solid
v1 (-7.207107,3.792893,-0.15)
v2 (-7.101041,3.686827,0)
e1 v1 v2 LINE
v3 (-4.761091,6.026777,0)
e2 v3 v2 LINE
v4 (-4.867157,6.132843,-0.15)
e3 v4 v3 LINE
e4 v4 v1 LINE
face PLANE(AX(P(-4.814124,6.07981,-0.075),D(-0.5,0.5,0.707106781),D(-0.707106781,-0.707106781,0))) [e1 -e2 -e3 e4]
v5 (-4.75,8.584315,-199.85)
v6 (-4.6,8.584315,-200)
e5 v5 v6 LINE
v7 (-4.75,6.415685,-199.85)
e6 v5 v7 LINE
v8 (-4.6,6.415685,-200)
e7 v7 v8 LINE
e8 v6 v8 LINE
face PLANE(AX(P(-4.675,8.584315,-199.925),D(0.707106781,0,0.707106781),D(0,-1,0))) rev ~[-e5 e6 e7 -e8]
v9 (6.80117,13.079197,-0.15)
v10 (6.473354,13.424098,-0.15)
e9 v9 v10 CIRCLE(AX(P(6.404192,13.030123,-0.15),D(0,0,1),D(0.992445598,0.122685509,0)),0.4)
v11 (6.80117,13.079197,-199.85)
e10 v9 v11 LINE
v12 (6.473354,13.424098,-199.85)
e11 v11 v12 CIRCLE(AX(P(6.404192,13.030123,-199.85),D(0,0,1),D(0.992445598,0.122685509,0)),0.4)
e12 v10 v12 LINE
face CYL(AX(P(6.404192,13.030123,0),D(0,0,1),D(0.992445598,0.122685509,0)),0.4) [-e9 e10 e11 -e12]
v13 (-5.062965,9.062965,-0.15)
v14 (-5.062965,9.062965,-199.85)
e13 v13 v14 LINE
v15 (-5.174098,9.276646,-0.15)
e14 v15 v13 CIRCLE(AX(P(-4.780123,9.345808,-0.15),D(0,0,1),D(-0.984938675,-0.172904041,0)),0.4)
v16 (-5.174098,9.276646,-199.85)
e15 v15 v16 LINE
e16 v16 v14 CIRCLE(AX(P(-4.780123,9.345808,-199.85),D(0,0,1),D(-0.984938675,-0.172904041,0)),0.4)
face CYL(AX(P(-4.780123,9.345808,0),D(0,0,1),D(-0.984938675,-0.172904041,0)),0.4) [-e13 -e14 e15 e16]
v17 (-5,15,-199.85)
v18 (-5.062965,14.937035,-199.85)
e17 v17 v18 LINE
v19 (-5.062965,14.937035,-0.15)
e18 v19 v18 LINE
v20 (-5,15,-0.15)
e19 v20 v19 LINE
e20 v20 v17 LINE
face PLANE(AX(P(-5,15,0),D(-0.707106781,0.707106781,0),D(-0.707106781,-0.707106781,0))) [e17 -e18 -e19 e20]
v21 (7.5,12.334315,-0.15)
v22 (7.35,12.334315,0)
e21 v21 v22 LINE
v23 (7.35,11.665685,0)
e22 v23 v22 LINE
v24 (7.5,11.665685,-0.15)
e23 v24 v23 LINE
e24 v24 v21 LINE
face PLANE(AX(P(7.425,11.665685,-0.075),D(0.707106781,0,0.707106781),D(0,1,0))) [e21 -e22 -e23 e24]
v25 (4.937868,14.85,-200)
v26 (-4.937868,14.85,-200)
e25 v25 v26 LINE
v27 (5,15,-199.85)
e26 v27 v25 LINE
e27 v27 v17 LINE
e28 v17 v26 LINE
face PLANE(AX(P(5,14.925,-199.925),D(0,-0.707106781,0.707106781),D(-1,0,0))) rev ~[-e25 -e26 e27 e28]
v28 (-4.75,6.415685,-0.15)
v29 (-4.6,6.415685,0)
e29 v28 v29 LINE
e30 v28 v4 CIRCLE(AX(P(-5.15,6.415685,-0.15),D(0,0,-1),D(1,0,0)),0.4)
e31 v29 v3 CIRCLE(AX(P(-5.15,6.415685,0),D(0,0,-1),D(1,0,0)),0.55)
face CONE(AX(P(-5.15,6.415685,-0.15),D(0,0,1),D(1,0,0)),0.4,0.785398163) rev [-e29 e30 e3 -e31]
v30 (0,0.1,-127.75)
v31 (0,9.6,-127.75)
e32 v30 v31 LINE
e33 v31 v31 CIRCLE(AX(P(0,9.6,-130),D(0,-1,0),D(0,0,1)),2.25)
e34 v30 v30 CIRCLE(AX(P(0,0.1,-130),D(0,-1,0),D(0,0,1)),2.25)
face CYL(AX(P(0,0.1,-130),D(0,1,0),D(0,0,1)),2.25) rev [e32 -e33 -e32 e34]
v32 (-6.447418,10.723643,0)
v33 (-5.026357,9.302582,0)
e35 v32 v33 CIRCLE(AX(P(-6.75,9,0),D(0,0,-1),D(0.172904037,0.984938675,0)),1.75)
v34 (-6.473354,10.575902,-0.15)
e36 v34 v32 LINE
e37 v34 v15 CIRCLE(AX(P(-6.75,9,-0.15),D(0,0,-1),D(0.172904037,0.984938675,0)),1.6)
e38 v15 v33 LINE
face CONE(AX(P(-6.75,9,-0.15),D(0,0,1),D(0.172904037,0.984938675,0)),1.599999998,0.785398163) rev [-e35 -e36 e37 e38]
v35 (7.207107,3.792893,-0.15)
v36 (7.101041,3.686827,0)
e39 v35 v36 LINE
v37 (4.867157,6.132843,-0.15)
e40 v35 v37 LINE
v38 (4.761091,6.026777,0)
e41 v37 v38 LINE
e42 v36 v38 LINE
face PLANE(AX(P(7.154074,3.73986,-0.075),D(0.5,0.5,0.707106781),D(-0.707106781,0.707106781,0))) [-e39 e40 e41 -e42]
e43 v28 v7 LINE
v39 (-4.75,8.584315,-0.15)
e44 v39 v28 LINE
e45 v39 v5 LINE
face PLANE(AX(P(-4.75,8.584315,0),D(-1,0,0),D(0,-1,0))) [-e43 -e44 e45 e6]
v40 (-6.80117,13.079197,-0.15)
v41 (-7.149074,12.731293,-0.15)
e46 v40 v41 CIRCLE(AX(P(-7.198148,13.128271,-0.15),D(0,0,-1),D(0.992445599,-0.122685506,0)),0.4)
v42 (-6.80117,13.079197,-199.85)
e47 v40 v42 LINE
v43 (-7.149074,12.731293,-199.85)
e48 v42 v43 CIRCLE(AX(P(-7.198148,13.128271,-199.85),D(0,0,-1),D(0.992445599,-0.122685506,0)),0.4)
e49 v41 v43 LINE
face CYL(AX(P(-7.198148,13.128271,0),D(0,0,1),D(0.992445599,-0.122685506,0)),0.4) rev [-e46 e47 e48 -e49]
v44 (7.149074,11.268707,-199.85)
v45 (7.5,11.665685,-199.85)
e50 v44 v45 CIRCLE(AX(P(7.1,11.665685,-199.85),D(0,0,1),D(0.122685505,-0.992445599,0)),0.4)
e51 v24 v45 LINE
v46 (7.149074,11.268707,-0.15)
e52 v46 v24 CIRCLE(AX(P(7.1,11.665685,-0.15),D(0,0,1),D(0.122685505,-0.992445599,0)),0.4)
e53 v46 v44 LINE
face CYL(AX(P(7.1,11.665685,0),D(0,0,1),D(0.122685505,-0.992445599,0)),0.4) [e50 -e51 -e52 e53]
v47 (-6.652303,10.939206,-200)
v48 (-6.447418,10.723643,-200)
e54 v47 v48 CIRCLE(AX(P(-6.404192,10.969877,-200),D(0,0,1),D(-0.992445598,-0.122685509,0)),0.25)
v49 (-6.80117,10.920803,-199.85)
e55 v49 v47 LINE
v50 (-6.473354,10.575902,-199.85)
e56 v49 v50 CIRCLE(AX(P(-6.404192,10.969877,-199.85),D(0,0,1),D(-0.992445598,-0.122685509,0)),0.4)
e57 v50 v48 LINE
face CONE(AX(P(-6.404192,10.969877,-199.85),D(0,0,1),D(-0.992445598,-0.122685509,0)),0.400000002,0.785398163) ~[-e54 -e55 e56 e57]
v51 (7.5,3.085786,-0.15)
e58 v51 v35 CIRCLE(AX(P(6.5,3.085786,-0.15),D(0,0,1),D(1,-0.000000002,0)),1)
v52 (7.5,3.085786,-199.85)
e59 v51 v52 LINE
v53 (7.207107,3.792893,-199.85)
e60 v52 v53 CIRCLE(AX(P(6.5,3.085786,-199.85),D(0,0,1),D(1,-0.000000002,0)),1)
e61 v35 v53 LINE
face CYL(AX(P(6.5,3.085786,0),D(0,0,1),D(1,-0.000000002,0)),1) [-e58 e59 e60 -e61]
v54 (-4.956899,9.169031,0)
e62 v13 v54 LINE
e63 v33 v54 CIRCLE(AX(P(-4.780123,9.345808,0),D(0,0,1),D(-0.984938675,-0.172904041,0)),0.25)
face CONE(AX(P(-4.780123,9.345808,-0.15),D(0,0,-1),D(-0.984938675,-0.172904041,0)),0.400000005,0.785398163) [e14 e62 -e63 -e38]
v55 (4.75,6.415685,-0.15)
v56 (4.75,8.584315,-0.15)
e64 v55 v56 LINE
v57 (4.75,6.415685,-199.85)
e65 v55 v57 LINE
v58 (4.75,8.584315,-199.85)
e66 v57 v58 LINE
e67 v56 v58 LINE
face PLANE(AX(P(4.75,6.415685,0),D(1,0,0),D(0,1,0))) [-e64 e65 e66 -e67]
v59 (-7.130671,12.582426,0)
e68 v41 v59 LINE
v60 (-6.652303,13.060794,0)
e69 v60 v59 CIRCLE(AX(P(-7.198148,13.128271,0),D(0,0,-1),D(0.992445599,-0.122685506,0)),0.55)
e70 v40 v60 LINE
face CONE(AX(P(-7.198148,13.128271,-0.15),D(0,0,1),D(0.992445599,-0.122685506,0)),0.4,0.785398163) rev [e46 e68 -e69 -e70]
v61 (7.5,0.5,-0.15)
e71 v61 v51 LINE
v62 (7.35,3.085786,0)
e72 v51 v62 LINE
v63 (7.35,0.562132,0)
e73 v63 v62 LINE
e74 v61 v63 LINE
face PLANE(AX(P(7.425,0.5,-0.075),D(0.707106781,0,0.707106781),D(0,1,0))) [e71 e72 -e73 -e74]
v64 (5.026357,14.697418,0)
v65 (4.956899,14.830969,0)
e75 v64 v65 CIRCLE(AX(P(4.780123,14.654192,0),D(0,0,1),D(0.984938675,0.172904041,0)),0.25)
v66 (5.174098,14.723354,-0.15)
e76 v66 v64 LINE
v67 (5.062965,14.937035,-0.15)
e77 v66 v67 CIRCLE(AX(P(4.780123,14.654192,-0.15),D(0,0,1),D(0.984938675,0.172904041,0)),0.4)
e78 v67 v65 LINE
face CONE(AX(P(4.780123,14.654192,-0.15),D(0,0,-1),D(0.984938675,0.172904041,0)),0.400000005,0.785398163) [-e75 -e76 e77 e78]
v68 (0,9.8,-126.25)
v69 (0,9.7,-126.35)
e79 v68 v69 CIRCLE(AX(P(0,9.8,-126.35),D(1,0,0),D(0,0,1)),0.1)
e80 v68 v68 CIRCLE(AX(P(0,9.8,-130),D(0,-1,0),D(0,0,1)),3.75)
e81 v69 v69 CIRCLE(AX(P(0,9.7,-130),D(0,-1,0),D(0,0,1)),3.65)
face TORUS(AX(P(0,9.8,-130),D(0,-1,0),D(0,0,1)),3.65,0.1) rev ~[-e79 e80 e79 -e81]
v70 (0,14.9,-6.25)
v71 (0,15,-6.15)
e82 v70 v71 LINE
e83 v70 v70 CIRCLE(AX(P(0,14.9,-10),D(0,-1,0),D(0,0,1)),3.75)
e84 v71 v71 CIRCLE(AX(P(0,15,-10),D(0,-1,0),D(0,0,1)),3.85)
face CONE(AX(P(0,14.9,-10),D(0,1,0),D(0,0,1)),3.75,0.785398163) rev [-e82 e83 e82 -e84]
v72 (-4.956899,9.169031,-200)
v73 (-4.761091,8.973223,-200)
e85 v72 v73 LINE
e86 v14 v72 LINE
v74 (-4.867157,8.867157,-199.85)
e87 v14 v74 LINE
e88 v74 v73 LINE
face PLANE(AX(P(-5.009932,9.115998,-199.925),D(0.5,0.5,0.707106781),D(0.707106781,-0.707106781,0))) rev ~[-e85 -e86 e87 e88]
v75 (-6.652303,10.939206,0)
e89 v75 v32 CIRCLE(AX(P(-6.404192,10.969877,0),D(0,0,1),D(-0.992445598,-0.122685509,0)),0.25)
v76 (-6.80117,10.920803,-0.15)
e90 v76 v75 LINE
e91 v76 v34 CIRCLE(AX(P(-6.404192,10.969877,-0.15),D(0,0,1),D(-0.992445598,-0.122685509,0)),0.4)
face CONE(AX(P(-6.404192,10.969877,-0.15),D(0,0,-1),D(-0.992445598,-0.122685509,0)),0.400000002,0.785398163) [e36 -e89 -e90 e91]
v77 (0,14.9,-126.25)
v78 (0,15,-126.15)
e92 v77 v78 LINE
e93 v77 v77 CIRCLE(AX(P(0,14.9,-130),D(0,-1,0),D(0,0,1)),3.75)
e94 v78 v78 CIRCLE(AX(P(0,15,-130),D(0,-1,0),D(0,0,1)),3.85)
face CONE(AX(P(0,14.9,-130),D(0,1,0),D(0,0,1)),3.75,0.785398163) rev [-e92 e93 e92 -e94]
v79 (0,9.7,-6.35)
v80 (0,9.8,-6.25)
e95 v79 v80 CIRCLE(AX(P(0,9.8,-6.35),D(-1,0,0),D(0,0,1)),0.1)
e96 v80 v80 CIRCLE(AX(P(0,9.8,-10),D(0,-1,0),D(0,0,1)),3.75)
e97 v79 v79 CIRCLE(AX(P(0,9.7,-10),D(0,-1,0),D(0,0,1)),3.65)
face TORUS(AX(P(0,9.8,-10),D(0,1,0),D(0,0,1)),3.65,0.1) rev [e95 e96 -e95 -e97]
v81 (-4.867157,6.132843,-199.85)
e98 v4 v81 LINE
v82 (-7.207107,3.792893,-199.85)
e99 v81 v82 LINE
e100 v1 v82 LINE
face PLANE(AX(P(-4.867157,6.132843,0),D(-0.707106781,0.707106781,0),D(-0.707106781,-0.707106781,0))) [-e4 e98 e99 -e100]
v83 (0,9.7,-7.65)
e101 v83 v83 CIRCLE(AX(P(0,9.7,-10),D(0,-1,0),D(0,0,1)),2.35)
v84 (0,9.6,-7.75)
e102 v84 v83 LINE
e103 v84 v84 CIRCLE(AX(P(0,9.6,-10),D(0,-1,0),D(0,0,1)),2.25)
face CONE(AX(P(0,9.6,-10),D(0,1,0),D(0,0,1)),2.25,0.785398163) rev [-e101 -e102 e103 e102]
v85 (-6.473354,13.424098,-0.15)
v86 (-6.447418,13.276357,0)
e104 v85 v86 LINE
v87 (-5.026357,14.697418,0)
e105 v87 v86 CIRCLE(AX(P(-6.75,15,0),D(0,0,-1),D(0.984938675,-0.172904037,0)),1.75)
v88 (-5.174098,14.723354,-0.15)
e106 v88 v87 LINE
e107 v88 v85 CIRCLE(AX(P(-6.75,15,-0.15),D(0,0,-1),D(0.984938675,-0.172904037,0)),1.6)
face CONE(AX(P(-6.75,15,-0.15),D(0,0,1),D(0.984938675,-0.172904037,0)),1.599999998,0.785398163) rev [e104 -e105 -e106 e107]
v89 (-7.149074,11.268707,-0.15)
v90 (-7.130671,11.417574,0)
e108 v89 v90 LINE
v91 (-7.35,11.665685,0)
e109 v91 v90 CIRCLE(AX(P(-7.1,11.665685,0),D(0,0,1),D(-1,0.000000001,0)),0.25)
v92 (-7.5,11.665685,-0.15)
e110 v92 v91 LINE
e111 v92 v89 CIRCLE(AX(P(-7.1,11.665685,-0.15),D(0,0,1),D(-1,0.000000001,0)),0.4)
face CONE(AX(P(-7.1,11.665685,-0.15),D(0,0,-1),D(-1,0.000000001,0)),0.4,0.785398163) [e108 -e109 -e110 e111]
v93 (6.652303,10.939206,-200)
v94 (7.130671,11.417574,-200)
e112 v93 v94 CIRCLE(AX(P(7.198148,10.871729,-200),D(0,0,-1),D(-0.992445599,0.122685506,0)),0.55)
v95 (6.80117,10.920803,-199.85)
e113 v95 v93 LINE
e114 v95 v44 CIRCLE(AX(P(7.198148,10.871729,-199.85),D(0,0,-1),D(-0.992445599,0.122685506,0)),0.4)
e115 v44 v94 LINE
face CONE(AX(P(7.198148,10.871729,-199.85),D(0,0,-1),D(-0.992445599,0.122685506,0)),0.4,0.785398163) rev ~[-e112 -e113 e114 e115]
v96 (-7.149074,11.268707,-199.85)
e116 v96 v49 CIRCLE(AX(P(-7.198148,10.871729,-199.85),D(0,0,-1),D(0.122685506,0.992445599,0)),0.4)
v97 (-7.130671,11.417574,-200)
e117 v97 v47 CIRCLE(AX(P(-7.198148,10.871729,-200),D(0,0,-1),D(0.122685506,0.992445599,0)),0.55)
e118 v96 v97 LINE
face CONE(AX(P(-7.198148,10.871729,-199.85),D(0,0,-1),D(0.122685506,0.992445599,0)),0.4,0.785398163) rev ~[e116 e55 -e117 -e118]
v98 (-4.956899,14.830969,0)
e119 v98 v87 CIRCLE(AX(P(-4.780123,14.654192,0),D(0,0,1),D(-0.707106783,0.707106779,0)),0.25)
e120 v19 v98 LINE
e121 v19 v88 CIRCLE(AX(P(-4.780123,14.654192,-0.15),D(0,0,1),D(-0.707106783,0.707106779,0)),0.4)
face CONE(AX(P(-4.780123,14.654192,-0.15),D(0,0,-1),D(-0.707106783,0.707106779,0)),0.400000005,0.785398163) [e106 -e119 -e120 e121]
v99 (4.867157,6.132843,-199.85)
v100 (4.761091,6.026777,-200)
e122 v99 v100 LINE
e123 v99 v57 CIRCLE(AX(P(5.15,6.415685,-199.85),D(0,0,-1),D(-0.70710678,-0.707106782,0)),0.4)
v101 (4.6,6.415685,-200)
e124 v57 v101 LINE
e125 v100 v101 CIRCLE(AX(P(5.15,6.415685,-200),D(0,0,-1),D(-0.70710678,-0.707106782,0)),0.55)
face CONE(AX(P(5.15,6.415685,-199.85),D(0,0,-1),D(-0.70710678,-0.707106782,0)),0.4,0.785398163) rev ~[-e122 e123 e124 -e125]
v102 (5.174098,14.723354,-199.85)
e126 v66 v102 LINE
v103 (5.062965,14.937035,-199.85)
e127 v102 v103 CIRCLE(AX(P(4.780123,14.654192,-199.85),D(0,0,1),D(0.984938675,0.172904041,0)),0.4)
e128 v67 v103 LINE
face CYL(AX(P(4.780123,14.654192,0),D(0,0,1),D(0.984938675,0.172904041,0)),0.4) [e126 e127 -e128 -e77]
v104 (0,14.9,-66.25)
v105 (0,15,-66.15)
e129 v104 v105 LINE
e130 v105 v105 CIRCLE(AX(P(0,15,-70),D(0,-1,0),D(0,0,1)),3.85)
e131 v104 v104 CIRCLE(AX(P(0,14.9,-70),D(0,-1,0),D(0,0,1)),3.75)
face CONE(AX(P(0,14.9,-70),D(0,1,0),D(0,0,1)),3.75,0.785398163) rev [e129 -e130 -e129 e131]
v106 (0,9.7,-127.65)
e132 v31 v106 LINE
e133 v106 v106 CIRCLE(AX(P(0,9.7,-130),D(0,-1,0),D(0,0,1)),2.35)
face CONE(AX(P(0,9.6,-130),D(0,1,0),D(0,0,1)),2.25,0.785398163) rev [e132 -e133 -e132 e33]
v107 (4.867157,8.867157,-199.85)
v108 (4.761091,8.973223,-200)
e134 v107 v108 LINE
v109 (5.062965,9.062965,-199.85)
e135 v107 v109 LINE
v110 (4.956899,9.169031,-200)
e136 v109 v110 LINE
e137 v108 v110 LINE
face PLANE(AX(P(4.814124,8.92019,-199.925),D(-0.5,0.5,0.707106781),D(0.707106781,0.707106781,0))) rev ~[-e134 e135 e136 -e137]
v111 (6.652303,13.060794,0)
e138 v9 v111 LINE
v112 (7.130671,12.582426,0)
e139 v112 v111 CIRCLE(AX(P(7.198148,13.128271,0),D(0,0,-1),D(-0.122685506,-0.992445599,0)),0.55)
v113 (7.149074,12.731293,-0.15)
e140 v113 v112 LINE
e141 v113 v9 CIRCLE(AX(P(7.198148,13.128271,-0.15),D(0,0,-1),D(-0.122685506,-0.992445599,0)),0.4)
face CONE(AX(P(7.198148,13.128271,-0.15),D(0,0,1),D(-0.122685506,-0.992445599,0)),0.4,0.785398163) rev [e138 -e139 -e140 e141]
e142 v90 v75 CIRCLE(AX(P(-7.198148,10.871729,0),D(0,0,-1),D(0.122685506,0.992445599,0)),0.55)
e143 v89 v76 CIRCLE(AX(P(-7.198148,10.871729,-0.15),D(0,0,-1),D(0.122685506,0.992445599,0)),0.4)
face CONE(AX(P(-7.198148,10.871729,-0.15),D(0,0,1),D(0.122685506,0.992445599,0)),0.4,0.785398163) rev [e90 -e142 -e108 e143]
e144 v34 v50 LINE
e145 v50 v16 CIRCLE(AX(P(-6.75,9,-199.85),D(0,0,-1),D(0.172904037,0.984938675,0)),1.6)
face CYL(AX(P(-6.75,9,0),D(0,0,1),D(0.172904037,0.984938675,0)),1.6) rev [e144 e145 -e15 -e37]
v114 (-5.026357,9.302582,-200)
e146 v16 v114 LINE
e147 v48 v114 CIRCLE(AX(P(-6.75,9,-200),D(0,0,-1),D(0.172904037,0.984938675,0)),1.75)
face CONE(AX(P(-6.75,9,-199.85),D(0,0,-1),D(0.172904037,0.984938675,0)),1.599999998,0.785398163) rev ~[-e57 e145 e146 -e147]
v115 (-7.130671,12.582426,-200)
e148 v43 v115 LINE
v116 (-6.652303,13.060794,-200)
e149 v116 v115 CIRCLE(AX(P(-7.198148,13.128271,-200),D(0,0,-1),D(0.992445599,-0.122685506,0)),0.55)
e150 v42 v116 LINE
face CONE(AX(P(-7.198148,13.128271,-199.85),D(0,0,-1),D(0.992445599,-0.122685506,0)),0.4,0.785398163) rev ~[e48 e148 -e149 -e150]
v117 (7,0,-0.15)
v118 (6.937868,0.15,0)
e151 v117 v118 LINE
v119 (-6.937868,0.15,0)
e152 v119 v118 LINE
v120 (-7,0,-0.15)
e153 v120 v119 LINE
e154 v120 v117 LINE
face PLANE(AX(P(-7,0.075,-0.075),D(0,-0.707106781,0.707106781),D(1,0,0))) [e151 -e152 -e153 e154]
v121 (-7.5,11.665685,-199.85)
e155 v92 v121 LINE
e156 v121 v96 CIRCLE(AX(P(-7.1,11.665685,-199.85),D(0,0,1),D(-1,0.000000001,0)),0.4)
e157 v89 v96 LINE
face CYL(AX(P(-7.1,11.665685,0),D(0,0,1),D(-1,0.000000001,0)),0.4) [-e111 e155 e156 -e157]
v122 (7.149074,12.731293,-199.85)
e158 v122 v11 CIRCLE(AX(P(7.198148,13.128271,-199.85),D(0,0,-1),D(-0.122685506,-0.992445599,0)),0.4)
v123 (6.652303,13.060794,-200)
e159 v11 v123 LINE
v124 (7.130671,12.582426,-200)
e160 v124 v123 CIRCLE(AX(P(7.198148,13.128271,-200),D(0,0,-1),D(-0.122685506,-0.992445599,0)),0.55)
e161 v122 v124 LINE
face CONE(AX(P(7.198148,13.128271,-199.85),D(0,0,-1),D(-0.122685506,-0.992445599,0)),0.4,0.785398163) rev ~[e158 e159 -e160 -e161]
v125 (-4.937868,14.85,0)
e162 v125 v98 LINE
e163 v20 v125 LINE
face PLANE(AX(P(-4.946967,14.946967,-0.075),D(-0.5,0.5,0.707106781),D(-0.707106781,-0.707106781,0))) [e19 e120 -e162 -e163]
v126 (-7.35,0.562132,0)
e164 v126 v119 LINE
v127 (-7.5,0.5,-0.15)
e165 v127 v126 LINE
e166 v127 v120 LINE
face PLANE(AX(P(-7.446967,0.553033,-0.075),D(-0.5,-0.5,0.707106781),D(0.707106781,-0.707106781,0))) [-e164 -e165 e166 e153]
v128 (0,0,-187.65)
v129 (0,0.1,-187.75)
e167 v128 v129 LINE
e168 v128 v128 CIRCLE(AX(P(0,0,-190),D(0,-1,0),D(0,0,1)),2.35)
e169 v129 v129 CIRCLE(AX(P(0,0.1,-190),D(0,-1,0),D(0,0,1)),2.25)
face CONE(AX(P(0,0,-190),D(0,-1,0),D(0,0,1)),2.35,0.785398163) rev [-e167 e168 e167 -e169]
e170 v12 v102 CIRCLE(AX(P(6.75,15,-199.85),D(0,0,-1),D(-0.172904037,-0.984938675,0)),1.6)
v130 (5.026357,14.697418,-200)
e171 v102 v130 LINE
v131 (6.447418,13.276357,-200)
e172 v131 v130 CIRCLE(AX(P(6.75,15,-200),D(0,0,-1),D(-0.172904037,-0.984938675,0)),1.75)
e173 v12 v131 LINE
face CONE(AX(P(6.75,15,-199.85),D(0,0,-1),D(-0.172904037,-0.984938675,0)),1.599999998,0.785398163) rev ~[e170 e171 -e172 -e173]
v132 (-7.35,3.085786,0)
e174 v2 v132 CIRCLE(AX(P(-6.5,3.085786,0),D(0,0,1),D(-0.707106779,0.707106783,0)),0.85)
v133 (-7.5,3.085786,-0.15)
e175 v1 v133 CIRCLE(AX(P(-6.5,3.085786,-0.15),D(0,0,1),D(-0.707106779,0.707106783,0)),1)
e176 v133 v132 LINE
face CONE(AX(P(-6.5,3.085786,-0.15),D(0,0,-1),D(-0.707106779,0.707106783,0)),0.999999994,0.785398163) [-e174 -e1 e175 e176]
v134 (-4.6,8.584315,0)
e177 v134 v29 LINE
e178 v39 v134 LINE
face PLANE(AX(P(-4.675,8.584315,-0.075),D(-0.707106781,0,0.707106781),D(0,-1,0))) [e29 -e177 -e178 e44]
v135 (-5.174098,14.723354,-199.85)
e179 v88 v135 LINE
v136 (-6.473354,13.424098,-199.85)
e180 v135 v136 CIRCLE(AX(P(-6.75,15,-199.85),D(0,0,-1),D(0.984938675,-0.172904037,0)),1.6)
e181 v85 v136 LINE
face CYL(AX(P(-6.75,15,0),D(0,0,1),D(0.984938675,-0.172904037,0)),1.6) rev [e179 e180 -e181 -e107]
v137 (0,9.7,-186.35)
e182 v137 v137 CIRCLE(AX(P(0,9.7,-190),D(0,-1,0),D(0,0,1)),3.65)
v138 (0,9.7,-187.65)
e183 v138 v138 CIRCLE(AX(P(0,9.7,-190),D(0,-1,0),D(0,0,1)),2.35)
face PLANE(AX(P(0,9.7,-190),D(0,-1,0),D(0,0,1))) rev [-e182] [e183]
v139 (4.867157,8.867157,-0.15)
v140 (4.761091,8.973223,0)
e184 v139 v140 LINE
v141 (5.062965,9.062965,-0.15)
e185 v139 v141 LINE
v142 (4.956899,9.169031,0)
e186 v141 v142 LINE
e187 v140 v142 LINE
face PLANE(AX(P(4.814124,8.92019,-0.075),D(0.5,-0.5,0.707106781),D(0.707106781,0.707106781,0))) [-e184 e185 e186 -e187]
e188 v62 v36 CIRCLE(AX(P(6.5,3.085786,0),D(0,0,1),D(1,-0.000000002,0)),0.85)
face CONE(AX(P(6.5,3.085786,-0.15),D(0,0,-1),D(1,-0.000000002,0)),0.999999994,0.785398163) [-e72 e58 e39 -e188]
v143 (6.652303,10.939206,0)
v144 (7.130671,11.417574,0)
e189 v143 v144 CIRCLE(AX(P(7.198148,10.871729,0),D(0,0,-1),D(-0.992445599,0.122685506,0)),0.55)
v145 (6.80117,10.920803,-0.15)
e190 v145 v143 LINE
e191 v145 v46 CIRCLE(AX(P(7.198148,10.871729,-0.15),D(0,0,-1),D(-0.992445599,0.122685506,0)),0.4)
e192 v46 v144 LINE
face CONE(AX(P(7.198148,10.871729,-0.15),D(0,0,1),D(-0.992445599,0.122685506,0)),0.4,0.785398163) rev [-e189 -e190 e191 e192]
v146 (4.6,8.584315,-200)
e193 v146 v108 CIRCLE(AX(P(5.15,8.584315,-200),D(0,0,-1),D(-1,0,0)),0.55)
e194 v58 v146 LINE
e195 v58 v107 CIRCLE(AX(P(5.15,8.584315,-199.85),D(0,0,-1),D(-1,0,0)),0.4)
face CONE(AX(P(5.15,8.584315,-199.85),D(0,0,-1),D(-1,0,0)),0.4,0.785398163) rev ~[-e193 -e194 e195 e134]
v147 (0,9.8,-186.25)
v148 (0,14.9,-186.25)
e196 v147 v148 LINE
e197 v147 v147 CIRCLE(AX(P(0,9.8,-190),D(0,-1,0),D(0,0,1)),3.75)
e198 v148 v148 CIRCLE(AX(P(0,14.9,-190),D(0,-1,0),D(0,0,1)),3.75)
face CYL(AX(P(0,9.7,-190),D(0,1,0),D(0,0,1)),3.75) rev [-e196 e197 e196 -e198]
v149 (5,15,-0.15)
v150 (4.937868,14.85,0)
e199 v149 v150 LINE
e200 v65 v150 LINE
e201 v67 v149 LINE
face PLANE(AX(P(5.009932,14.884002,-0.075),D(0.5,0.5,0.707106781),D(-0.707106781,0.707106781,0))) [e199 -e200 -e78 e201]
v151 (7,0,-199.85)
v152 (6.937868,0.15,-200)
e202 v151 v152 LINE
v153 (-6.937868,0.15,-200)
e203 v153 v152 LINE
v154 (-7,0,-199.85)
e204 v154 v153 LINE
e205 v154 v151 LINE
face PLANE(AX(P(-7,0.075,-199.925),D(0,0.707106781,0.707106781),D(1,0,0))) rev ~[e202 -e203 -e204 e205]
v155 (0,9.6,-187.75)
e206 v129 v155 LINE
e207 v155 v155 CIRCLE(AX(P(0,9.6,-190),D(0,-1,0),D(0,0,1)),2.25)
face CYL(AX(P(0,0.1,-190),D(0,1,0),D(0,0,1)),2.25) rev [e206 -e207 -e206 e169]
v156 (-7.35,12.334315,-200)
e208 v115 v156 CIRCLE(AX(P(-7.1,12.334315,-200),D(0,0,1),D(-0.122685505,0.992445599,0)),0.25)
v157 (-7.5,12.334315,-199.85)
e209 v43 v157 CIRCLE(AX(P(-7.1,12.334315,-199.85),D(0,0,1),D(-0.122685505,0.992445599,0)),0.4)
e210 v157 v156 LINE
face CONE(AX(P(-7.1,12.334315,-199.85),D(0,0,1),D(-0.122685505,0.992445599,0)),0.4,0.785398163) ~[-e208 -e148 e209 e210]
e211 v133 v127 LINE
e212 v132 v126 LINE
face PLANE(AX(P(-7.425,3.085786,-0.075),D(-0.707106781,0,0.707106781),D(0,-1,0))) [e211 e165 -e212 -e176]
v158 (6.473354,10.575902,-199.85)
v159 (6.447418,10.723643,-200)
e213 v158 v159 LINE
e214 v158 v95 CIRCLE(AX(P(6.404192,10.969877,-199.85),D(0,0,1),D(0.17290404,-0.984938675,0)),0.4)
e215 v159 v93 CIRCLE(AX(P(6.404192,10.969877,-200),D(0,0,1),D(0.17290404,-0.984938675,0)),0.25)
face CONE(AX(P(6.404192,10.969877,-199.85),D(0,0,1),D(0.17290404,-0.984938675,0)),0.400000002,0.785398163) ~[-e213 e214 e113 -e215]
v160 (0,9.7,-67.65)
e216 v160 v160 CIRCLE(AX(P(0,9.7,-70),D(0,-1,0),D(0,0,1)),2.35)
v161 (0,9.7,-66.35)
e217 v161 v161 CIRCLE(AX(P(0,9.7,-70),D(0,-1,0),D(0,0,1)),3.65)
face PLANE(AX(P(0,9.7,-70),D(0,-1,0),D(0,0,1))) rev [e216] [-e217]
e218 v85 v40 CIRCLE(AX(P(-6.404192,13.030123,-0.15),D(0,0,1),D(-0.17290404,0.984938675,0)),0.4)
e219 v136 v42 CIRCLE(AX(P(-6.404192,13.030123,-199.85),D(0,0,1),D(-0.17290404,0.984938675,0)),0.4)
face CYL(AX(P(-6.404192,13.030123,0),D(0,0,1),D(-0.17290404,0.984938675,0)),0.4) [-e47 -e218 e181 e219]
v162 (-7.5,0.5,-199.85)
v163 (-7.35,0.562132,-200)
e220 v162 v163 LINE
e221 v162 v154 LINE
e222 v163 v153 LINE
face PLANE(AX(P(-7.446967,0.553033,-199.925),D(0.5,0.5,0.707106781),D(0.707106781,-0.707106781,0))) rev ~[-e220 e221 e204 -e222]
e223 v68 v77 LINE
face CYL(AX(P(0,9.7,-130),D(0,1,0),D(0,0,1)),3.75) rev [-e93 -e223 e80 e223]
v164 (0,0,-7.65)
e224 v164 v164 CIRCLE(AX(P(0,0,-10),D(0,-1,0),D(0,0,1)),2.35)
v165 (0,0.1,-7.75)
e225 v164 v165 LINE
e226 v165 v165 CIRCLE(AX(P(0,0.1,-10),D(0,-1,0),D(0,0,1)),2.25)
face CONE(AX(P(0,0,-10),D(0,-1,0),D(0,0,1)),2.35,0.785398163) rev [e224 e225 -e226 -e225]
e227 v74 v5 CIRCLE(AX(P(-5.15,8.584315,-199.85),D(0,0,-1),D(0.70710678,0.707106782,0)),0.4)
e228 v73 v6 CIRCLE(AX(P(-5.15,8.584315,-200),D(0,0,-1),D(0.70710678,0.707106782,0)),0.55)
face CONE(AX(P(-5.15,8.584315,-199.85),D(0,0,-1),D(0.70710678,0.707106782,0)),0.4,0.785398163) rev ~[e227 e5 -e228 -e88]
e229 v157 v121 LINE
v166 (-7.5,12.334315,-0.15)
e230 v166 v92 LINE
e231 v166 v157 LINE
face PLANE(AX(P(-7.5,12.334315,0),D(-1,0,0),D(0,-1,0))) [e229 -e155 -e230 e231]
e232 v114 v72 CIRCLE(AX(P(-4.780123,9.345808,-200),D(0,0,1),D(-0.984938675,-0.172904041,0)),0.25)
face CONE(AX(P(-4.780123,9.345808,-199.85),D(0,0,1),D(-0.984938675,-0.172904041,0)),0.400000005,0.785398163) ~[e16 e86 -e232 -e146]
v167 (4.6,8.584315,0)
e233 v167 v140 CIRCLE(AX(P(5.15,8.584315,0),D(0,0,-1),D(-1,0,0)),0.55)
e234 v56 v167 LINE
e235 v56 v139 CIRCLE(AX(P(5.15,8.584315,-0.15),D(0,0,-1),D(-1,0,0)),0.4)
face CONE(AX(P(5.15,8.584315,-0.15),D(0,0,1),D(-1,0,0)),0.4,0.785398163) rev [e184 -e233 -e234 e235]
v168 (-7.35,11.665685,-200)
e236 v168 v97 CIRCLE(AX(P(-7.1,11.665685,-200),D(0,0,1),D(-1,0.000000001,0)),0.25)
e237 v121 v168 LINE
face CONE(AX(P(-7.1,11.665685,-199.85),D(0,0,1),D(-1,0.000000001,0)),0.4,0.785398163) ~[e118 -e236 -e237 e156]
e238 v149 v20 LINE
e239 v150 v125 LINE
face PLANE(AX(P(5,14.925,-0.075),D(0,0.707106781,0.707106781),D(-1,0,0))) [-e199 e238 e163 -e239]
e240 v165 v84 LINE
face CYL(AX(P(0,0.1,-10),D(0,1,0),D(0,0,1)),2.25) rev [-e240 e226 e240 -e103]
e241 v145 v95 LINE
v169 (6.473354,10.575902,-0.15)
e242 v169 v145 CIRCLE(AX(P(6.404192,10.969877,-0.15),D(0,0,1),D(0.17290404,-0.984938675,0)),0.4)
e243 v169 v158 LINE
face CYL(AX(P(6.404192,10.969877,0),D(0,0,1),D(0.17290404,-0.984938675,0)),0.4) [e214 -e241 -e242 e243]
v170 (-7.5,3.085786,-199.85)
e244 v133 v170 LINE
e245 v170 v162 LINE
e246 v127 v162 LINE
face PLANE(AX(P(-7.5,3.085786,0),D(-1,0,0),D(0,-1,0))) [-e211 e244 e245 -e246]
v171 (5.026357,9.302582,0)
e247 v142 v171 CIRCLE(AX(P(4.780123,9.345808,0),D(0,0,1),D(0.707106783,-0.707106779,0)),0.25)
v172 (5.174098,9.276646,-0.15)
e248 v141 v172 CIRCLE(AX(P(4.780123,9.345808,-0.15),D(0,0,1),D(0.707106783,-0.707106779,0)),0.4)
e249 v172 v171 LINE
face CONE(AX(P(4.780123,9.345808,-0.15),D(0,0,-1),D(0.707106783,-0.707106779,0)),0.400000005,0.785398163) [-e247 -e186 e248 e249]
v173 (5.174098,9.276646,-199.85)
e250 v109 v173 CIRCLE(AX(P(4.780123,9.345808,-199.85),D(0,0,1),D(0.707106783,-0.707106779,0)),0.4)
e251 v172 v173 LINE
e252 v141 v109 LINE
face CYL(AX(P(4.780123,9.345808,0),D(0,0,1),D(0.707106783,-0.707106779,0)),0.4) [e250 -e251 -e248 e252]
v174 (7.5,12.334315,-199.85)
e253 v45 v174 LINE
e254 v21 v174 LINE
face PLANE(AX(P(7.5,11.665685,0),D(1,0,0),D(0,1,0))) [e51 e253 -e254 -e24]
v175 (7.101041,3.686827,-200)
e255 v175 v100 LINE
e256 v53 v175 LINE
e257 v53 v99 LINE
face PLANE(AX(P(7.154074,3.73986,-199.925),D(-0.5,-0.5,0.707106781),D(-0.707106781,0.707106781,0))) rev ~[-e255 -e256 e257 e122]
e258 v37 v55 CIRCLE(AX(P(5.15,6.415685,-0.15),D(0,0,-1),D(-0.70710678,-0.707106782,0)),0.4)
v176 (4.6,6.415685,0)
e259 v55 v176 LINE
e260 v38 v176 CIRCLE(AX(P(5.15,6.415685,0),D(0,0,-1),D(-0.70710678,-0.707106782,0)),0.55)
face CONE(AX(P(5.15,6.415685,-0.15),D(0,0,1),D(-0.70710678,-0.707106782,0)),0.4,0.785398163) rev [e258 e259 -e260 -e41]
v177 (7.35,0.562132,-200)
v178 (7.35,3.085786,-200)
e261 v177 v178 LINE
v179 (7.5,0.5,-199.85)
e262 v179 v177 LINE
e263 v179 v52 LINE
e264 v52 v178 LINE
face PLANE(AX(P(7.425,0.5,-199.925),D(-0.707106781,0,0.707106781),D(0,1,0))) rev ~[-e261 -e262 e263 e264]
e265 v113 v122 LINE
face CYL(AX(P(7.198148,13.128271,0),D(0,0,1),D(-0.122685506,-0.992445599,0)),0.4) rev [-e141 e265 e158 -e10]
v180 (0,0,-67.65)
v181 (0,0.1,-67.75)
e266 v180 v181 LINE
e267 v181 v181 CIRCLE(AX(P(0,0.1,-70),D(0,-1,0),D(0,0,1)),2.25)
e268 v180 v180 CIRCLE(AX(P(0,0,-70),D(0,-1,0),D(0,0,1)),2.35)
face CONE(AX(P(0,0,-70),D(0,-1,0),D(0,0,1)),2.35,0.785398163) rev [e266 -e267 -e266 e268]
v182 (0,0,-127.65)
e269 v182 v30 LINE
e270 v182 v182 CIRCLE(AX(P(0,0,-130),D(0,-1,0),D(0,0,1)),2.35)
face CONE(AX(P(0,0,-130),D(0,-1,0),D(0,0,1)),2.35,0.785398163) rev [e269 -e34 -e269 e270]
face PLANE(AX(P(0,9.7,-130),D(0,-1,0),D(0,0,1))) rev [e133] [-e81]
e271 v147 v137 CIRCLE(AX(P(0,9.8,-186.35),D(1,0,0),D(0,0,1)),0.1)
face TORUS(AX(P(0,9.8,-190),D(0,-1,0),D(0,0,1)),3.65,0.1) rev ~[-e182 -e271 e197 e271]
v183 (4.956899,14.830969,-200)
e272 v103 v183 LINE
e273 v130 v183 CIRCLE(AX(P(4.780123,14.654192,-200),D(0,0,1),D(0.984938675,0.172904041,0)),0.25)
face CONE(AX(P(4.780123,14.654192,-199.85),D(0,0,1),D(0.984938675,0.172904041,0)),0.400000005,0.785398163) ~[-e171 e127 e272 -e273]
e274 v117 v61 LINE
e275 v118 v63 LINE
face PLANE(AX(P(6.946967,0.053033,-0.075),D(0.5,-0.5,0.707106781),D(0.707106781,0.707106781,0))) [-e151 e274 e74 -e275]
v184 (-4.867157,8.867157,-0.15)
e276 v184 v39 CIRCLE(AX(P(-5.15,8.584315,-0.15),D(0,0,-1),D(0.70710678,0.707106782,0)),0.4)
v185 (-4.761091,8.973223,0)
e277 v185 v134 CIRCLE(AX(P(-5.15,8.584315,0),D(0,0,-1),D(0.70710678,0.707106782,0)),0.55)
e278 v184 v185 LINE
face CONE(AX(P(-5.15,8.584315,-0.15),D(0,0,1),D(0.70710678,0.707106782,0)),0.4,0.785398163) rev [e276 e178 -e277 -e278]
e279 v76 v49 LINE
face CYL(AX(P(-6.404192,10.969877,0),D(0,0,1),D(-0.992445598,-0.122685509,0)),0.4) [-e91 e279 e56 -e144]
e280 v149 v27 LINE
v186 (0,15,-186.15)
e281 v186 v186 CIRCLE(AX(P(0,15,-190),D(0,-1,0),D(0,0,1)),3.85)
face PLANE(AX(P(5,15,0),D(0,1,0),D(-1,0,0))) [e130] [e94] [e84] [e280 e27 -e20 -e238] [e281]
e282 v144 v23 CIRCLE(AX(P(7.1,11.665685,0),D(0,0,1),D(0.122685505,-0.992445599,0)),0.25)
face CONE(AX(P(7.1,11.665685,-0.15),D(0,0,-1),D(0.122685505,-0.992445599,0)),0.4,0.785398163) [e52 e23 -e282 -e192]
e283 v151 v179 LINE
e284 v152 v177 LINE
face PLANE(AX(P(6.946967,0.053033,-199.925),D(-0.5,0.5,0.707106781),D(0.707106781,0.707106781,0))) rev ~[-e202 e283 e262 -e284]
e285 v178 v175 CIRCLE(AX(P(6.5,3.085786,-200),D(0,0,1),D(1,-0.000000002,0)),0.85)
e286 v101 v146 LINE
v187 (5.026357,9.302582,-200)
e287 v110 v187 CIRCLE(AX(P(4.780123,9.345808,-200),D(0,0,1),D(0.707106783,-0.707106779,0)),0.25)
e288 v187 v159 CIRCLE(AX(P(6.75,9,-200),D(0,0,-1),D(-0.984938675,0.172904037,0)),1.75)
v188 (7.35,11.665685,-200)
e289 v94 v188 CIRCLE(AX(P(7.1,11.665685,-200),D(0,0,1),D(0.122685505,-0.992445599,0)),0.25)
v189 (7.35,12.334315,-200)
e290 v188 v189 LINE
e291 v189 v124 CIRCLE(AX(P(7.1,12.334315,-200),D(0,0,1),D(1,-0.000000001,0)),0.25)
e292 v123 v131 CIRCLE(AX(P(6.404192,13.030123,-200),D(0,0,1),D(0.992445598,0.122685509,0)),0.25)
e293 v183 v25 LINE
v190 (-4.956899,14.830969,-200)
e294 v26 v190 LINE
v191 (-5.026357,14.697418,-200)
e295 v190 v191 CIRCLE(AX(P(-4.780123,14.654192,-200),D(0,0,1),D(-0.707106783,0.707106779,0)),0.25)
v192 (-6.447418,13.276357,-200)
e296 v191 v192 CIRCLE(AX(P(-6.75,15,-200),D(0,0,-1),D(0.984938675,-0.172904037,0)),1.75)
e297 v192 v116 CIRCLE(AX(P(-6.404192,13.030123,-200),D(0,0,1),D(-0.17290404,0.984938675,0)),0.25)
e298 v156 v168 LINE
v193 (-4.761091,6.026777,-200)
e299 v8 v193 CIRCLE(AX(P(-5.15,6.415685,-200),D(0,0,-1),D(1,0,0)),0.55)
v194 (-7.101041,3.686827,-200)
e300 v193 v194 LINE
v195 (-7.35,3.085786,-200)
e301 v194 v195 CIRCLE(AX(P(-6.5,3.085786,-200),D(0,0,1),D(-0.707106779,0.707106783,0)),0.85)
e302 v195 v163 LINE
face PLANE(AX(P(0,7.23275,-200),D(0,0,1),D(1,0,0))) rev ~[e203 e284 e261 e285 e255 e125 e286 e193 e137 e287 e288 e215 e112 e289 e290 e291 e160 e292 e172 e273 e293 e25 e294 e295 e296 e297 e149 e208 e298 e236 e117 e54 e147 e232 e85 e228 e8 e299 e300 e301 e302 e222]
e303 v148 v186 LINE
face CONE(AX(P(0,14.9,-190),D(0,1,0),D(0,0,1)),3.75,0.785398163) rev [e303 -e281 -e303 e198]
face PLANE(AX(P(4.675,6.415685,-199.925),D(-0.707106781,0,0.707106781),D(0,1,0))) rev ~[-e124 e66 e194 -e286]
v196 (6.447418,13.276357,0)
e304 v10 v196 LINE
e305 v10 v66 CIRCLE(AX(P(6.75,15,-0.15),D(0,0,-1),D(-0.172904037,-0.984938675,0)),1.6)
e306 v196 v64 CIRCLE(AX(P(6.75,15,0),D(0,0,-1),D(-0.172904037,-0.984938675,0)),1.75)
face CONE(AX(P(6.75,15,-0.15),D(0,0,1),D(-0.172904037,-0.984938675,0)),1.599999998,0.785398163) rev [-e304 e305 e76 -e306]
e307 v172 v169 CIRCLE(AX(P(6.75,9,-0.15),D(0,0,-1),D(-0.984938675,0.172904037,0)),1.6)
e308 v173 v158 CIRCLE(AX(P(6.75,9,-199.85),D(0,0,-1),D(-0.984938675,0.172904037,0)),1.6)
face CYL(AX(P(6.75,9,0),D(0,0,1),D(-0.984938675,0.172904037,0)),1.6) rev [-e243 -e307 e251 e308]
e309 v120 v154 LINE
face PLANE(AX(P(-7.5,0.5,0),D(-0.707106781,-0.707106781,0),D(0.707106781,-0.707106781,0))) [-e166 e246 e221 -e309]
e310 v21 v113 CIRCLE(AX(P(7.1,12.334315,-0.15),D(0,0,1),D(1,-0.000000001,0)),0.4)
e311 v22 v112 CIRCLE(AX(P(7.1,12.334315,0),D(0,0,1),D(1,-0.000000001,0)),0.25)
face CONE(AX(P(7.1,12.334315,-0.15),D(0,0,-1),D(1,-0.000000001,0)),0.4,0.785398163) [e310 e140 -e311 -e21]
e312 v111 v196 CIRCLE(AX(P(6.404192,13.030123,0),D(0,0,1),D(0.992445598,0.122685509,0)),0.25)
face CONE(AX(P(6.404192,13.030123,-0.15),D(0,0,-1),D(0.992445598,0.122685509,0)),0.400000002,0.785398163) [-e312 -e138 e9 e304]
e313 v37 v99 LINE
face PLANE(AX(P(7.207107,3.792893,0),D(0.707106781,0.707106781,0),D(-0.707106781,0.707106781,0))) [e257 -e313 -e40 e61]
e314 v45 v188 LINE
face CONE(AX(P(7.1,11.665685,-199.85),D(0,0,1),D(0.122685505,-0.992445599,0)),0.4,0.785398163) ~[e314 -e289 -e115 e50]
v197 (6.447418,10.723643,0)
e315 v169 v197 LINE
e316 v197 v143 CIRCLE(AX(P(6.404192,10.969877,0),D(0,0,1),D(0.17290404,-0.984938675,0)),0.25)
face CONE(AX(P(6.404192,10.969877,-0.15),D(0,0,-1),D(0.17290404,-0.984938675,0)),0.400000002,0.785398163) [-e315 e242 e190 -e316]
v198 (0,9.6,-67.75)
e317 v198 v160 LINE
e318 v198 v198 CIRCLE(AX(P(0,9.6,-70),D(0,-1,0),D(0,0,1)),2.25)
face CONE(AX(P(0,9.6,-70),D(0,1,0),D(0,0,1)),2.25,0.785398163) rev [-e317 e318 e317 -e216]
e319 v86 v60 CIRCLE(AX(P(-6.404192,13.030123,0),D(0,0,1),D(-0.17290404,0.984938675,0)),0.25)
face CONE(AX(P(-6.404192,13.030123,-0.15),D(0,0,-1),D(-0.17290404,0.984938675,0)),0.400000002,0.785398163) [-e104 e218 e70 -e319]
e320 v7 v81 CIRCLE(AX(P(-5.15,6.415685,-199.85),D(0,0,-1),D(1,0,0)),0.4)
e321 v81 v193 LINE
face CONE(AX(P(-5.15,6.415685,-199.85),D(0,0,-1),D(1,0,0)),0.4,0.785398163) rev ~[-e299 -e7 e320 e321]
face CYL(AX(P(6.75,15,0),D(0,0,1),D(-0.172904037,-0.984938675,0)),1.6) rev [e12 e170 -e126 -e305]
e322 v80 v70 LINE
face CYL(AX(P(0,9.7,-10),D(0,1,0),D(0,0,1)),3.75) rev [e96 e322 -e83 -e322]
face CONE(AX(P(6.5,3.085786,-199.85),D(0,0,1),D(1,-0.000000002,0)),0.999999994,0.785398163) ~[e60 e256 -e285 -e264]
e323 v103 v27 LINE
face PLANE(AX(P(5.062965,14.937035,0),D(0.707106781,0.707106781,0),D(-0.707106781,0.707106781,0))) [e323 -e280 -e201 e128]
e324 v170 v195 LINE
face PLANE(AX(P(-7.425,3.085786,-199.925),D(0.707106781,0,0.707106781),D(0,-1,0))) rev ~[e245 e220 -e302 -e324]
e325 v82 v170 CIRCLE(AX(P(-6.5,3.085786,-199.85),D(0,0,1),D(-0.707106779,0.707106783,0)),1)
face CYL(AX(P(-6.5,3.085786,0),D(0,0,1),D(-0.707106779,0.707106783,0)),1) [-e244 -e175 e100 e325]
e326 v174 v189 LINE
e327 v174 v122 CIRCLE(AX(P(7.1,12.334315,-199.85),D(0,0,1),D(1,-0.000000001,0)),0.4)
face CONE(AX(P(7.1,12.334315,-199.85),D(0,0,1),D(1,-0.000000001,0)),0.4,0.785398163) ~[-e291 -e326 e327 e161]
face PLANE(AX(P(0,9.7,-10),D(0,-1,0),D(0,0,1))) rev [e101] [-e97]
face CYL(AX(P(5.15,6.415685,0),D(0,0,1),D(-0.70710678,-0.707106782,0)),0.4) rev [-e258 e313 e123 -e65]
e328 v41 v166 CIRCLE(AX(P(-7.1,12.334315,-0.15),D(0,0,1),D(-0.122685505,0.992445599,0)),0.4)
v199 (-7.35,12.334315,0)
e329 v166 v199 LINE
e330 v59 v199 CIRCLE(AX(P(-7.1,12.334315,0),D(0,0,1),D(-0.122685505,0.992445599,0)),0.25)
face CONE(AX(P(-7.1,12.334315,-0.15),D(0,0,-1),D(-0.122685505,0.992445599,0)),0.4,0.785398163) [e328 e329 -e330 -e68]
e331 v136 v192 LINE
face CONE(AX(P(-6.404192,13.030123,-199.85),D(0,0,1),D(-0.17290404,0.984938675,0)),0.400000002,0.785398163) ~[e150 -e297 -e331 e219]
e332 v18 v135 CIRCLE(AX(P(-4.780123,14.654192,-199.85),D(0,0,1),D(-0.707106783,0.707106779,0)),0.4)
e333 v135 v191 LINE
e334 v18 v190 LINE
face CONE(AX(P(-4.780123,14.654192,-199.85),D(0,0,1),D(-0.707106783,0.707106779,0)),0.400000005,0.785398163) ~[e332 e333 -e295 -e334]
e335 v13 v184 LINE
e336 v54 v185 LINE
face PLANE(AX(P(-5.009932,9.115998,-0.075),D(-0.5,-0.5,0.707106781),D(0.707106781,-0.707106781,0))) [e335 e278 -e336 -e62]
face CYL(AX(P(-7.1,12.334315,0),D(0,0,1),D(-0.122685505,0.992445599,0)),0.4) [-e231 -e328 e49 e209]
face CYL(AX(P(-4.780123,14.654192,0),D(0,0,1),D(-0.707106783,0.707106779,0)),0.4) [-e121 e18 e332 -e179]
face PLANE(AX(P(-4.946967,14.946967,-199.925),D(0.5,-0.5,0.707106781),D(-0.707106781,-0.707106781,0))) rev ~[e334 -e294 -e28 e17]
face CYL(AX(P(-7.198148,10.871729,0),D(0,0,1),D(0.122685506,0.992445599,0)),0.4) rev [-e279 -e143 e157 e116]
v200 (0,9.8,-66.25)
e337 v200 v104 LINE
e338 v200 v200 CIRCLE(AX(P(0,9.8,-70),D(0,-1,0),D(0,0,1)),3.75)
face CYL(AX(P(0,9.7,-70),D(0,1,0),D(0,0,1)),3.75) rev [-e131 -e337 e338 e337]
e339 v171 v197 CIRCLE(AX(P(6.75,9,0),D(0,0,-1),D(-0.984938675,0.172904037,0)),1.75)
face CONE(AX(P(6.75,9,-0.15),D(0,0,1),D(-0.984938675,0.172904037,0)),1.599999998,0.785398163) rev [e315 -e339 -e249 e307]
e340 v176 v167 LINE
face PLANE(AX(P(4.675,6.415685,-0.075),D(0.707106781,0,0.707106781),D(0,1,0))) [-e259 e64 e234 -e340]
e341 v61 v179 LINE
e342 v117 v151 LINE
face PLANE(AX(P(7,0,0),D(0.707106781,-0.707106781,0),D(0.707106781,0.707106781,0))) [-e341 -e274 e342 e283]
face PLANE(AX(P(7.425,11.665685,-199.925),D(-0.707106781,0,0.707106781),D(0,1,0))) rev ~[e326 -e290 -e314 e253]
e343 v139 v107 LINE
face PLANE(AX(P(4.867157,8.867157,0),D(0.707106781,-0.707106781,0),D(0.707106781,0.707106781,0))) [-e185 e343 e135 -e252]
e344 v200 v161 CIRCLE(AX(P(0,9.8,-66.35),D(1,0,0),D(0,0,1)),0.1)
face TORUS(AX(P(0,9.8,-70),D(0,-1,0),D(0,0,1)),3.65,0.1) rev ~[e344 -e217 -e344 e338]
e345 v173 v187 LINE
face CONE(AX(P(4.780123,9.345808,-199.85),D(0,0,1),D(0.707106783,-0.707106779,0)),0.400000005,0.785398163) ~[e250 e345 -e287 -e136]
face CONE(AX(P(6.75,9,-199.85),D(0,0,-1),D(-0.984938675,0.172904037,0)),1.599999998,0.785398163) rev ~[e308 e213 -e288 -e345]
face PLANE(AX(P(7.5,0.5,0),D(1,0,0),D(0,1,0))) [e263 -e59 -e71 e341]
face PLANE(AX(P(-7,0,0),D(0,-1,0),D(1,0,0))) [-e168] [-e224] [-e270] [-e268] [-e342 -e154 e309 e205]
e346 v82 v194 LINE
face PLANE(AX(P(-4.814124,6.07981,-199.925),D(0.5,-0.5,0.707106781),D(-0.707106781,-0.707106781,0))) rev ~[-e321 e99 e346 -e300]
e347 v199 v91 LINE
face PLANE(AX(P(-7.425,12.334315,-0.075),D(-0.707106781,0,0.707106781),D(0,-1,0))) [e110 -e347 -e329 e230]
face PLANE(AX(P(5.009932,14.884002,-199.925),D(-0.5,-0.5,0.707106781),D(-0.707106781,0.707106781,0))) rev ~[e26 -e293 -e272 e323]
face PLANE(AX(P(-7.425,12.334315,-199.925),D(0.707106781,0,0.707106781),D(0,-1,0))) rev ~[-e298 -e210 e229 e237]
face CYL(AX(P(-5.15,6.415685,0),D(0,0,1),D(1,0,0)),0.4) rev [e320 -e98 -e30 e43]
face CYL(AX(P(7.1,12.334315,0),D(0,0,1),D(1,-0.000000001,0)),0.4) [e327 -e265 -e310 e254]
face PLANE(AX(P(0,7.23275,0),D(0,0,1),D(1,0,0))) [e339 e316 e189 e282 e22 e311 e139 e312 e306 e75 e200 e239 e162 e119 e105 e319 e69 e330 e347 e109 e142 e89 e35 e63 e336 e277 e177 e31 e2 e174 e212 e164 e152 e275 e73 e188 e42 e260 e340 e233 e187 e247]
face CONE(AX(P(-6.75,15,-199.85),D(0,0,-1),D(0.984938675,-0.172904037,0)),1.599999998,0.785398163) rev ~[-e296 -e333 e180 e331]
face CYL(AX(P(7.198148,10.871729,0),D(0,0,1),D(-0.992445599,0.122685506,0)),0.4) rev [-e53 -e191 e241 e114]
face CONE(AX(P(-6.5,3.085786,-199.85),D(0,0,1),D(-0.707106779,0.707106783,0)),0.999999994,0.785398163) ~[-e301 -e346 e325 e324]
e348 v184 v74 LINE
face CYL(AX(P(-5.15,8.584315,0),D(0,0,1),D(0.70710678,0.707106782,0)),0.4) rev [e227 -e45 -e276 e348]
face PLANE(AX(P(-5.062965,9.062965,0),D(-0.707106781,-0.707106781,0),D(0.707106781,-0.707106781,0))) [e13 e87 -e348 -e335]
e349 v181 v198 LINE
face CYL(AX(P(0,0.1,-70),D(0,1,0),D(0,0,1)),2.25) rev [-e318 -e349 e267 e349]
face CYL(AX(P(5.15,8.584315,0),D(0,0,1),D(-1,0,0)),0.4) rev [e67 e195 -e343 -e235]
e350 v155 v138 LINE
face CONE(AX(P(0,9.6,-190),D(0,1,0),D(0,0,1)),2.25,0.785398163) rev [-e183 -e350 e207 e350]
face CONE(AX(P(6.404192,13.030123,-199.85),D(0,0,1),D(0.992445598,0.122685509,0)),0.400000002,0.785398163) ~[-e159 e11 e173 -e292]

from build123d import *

# Parameters (mm, degrees)
BODY_DEPTH                                 = 200
AESTHETIC_CHAMFER_SIZE                     = 0.15
PRODUCTION_FILLET_R                        = 0.1
MOUNTING_HOLES_PATTERN_COUNT               = 4
MOUNTING_HOLES_PATTERN_PITCH               = 60
PRODUCTION_FILLET_OF_MOUNTING_HOLES_PATT_R = 0.1


with BuildPart() as part:
    # Rail Profile → Body (new body)
    with BuildSketch(Plane.XY):
        with BuildLine():
            Line((-7, 0), (7, 0))
            Line((7, 0), (7.5, 0.5))
            Line((7.5, 0.5), (7.5, 3.085786438))
            ThreePointArc((7.5, 3.085786438), (7.423879533, 3.46846987), (7.207106781, 3.792893219))
            Line((7.207106781, 3.792893219), (4.867157288, 6.132842712))
            ThreePointArc((4.867157288, 6.132842712), (4.780448187, 6.262612052), (4.75, 6.415685425))
            Line((4.75, 6.415685425), (4.75, 8.584314575))
            ThreePointArc((4.75, 8.584314575), (4.780448187, 8.737387948), (4.867157288, 8.867157288))
            Line((4.867157288, 8.867157288), (5.062965362, 9.062965362))
            ThreePointArc((5.062965362, 9.062965362), (5.134996734, 9.161242682), (5.17409812, 9.27664646))
            ThreePointArc((5.17409812, 9.27664646), (5.61862915, 10.13137085), (6.47335354, 10.57590188))
            ThreePointArc((6.47335354, 10.57590188), (6.694124352, 10.694306692), (6.801170165, 10.920803148))
            ThreePointArc((6.801170165, 10.920803148), (6.915305692, 11.154571658), (7.149074202, 11.268707185))
            ThreePointArc((7.149074202, 11.268707185), (7.399691242, 11.400760606), (7.5, 11.665685425))
            Line((7.5, 11.665685425), (7.5, 12.334314575))
            ThreePointArc((7.5, 12.334314575), (7.399691242, 12.599239394), (7.149074202, 12.731292815))
            ThreePointArc((7.149074202, 12.731292815), (6.915305692, 12.845428342), (6.801170165, 13.079196852))
            ThreePointArc((6.801170165, 13.079196852), (6.694124352, 13.305693308), (6.47335354, 13.42409812))
            ThreePointArc((6.47335354, 13.42409812), (5.61862915, 13.86862915), (5.17409812, 14.72335354))
            ThreePointArc((5.17409812, 14.72335354), (5.134996734, 14.838757318), (5.062965362, 14.937034638))
            Line((5.062965362, 14.937034638), (5, 15))
            Line((5, 15), (-5, 15))
            Line((-5, 15), (-5.062965362, 14.937034638))
            ThreePointArc((-5.062965362, 14.937034638), (-5.134996734, 14.838757318), (-5.17409812, 14.72335354))
            ThreePointArc((-5.17409812, 14.72335354), (-5.61862915, 13.86862915), (-6.47335354, 13.42409812))
            ThreePointArc((-6.47335354, 13.42409812), (-6.694124352, 13.305693308), (-6.801170165, 13.079196852))
            ThreePointArc((-6.801170165, 13.079196852), (-6.915305692, 12.845428342), (-7.149074202, 12.731292815))
            ThreePointArc((-7.149074202, 12.731292815), (-7.399691242, 12.599239394), (-7.5, 12.334314575))
            Line((-7.5, 12.334314575), (-7.5, 11.665685425))
            ThreePointArc((-7.5, 11.665685425), (-7.399691242, 11.400760606), (-7.149074202, 11.268707185))
            ThreePointArc((-7.149074202, 11.268707185), (-6.915305692, 11.154571658), (-6.801170165, 10.920803148))
            ThreePointArc((-6.801170165, 10.920803148), (-6.694124352, 10.694306692), (-6.47335354, 10.57590188))
            ThreePointArc((-6.47335354, 10.57590188), (-5.61862915, 10.13137085), (-5.17409812, 9.27664646))
            ThreePointArc((-5.17409812, 9.27664646), (-5.134996734, 9.161242682), (-5.062965362, 9.062965362))
            Line((-5.062965362, 9.062965362), (-4.867157288, 8.867157288))
            ThreePointArc((-4.867157288, 8.867157288), (-4.780448187, 8.737387948), (-4.75, 8.584314575))
            Line((-4.75, 8.584314575), (-4.75, 6.415685425))
            ThreePointArc((-4.75, 6.415685425), (-4.780448187, 6.262612052), (-4.867157288, 6.132842712))
            Line((-4.867157288, 6.132842712), (-7.207106781, 3.792893219))
            ThreePointArc((-7.207106781, 3.792893219), (-7.423879533, 3.46846987), (-7.5, 3.085786438))
            Line((-7.5, 3.085786438), (-7.5, 0.5))
            Line((-7.5, 0.5), (-7, 0))
        make_face()
    extrude(amount=-BODY_DEPTH)

    # Aesthetic Chamfer
    aesthetic_chamfer_edges = [part.edges().sort_by_distance(p)[0] for p in [
        (7.423879533, 3.46846987, -200),
        (-5.134996734, 9.161242682, -200),
        (-4.965061325, 8.965061325, -200),
        (-4.780448187, 8.737387948, -200),
        (-4.75, 7.5, -200),
        (-4.780448187, 6.262612052, -200),
        (-6.037132034, 4.962867966, -200),
        (-7.423879533, 3.46846987, -200),
        (-7.5, 1.792893219, -200),
        (-7.25, 0.25, -200),
        (0, 0, -200),
        (6.037132034, 4.962867966, -200),
        (4.780448187, 6.262612052, -200),
        (4.75, 7.5, -200),
        (4.780448187, 8.737387948, -200),
        (4.965061325, 8.965061325, -200),
        (5.134996734, 9.161242682, -200),
        (5.61862915, 10.13137085, -200),
        (6.694124352, 10.694306692, -200),
        (0, 0, 0),
        (-7.25, 0.25, 0),
        (-7.5, 1.792893219, 0),
        (-7.423879533, 3.46846987, 0),
        (-6.037132034, 4.962867966, 0),
        (-4.780448187, 6.262612052, 0),
        (6.915305692, 11.154571658, -200),
        (-4.75, 7.5, 0),
        (-4.780448187, 8.737387948, 0),
        (-4.965061325, 8.965061325, 0),
        (-5.134996734, 9.161242682, 0),
        (-5.61862915, 10.13137085, 0),
        (-6.694124352, 10.694306692, 0),
        (-6.915305692, 11.154571658, 0),
        (7.25, 0.25, -200),
        (7.399691242, 11.400760606, -200),
        (-7.399691242, 11.400760606, 0),
        (-7.5, 12, 0),
        (-7.399691242, 12.599239394, 0),
        (-6.915305692, 12.845428342, 0),
        (-6.694124352, 13.305693308, 0),
        (-5.61862915, 13.86862915, 0),
        (-5.134996734, 14.838757318, 0),
        (-5.031482681, 14.968517319, 0),
        (7.5, 12, -200),
        (0, 15, 0),
        (5.031482681, 14.968517319, 0),
        (5.134996734, 14.838757318, 0),
        (5.61862915, 13.86862915, 0),
        (6.694124352, 13.305693308, 0),
        (6.915305692, 12.845428342, 0),
        (7.399691242, 12.599239394, 0),
        (7.399691242, 12.599239394, -200),
        (7.5, 12, 0),
        (7.399691242, 11.400760606, 0),
        (6.915305692, 11.154571658, 0),
        (6.694124352, 10.694306692, 0),
        (5.61862915, 10.13137085, 0),
        (5.134996734, 9.161242682, 0),
        (4.965061325, 8.965061325, 0),
        (4.780448187, 8.737387948, 0),
        (6.915305692, 12.845428342, -200),
        (4.75, 7.5, 0),
        (4.780448187, 6.262612052, 0),
        (6.037132034, 4.962867966, 0),
        (7.423879533, 3.46846987, 0),
        (7.5, 1.792893219, 0),
        (7.25, 0.25, 0),
        (6.694124352, 13.305693308, -200),
        (5.61862915, 13.86862915, -200),
        (5.134996734, 14.838757318, -200),
        (5.031482681, 14.968517319, -200),
        (0, 15, -200),
        (-5.031482681, 14.968517319, -200),
        (7.5, 1.792893219, -200),
        (-5.134996734, 14.838757318, -200),
        (-5.61862915, 13.86862915, -200),
        (-6.694124352, 13.305693308, -200),
        (-6.915305692, 12.845428342, -200),
        (-7.399691242, 12.599239394, -200),
        (-7.5, 12, -200),
        (-7.399691242, 11.400760606, -200),
        (-6.915305692, 11.154571658, -200),
        (-6.694124352, 10.694306692, -200),
        (-5.61862915, 10.13137085, -200),
    ]]
    chamfer(aesthetic_chamfer_edges, length=AESTHETIC_CHAMFER_SIZE)

    # Sketch1 → Mounting Hole (revolve, cut)
    with BuildSketch(Plane(origin=(0, 15, -10), x_dir=(0, 0, 1), z_dir=(1, 0, 0))):
        Polygon((0, 0), (0, 15), (2.35, 15), (2.25, 14.9), (2.25, 5.4), (2.35, 5.3), (3.75, 5.3), (3.75, 0.1), (3.85, 0), align=None)
    mounting_hole = revolve(axis=Axis((0, 21.35, -10), (0, -1, 0)), mode=Mode.SUBTRACT)

    # Production Fillet
    production_fillet_edges = [part.edges().sort_by_distance(p)[0] for p in [
        (0, 9.7, -13.75),
    ]]
    fillet(production_fillet_edges, radius=PRODUCTION_FILLET_R)

    # Mounting Holes Pattern: Mounting Hole ×4
    with Locations(*[(0, 0, -i * MOUNTING_HOLES_PATTERN_PITCH) for i in range(1, MOUNTING_HOLES_PATTERN_COUNT)]):
        add(mounting_hole, mode=Mode.SUBTRACT)

    # Production Fillet of Mounting Holes Patt
    production_fillet_of_mounting_holes_patt_edges = [part.edges().sort_by_distance(p)[0] for p in [
        (0, 9.7, -73.75),
        (0, 9.7, -133.75),
        (0, 9.7, -193.75),
    ]]
    fillet(production_fillet_of_mounting_holes_patt_edges, radius=PRODUCTION_FILLET_OF_MOUNTING_HOLES_PATT_R)


solid = part.part
